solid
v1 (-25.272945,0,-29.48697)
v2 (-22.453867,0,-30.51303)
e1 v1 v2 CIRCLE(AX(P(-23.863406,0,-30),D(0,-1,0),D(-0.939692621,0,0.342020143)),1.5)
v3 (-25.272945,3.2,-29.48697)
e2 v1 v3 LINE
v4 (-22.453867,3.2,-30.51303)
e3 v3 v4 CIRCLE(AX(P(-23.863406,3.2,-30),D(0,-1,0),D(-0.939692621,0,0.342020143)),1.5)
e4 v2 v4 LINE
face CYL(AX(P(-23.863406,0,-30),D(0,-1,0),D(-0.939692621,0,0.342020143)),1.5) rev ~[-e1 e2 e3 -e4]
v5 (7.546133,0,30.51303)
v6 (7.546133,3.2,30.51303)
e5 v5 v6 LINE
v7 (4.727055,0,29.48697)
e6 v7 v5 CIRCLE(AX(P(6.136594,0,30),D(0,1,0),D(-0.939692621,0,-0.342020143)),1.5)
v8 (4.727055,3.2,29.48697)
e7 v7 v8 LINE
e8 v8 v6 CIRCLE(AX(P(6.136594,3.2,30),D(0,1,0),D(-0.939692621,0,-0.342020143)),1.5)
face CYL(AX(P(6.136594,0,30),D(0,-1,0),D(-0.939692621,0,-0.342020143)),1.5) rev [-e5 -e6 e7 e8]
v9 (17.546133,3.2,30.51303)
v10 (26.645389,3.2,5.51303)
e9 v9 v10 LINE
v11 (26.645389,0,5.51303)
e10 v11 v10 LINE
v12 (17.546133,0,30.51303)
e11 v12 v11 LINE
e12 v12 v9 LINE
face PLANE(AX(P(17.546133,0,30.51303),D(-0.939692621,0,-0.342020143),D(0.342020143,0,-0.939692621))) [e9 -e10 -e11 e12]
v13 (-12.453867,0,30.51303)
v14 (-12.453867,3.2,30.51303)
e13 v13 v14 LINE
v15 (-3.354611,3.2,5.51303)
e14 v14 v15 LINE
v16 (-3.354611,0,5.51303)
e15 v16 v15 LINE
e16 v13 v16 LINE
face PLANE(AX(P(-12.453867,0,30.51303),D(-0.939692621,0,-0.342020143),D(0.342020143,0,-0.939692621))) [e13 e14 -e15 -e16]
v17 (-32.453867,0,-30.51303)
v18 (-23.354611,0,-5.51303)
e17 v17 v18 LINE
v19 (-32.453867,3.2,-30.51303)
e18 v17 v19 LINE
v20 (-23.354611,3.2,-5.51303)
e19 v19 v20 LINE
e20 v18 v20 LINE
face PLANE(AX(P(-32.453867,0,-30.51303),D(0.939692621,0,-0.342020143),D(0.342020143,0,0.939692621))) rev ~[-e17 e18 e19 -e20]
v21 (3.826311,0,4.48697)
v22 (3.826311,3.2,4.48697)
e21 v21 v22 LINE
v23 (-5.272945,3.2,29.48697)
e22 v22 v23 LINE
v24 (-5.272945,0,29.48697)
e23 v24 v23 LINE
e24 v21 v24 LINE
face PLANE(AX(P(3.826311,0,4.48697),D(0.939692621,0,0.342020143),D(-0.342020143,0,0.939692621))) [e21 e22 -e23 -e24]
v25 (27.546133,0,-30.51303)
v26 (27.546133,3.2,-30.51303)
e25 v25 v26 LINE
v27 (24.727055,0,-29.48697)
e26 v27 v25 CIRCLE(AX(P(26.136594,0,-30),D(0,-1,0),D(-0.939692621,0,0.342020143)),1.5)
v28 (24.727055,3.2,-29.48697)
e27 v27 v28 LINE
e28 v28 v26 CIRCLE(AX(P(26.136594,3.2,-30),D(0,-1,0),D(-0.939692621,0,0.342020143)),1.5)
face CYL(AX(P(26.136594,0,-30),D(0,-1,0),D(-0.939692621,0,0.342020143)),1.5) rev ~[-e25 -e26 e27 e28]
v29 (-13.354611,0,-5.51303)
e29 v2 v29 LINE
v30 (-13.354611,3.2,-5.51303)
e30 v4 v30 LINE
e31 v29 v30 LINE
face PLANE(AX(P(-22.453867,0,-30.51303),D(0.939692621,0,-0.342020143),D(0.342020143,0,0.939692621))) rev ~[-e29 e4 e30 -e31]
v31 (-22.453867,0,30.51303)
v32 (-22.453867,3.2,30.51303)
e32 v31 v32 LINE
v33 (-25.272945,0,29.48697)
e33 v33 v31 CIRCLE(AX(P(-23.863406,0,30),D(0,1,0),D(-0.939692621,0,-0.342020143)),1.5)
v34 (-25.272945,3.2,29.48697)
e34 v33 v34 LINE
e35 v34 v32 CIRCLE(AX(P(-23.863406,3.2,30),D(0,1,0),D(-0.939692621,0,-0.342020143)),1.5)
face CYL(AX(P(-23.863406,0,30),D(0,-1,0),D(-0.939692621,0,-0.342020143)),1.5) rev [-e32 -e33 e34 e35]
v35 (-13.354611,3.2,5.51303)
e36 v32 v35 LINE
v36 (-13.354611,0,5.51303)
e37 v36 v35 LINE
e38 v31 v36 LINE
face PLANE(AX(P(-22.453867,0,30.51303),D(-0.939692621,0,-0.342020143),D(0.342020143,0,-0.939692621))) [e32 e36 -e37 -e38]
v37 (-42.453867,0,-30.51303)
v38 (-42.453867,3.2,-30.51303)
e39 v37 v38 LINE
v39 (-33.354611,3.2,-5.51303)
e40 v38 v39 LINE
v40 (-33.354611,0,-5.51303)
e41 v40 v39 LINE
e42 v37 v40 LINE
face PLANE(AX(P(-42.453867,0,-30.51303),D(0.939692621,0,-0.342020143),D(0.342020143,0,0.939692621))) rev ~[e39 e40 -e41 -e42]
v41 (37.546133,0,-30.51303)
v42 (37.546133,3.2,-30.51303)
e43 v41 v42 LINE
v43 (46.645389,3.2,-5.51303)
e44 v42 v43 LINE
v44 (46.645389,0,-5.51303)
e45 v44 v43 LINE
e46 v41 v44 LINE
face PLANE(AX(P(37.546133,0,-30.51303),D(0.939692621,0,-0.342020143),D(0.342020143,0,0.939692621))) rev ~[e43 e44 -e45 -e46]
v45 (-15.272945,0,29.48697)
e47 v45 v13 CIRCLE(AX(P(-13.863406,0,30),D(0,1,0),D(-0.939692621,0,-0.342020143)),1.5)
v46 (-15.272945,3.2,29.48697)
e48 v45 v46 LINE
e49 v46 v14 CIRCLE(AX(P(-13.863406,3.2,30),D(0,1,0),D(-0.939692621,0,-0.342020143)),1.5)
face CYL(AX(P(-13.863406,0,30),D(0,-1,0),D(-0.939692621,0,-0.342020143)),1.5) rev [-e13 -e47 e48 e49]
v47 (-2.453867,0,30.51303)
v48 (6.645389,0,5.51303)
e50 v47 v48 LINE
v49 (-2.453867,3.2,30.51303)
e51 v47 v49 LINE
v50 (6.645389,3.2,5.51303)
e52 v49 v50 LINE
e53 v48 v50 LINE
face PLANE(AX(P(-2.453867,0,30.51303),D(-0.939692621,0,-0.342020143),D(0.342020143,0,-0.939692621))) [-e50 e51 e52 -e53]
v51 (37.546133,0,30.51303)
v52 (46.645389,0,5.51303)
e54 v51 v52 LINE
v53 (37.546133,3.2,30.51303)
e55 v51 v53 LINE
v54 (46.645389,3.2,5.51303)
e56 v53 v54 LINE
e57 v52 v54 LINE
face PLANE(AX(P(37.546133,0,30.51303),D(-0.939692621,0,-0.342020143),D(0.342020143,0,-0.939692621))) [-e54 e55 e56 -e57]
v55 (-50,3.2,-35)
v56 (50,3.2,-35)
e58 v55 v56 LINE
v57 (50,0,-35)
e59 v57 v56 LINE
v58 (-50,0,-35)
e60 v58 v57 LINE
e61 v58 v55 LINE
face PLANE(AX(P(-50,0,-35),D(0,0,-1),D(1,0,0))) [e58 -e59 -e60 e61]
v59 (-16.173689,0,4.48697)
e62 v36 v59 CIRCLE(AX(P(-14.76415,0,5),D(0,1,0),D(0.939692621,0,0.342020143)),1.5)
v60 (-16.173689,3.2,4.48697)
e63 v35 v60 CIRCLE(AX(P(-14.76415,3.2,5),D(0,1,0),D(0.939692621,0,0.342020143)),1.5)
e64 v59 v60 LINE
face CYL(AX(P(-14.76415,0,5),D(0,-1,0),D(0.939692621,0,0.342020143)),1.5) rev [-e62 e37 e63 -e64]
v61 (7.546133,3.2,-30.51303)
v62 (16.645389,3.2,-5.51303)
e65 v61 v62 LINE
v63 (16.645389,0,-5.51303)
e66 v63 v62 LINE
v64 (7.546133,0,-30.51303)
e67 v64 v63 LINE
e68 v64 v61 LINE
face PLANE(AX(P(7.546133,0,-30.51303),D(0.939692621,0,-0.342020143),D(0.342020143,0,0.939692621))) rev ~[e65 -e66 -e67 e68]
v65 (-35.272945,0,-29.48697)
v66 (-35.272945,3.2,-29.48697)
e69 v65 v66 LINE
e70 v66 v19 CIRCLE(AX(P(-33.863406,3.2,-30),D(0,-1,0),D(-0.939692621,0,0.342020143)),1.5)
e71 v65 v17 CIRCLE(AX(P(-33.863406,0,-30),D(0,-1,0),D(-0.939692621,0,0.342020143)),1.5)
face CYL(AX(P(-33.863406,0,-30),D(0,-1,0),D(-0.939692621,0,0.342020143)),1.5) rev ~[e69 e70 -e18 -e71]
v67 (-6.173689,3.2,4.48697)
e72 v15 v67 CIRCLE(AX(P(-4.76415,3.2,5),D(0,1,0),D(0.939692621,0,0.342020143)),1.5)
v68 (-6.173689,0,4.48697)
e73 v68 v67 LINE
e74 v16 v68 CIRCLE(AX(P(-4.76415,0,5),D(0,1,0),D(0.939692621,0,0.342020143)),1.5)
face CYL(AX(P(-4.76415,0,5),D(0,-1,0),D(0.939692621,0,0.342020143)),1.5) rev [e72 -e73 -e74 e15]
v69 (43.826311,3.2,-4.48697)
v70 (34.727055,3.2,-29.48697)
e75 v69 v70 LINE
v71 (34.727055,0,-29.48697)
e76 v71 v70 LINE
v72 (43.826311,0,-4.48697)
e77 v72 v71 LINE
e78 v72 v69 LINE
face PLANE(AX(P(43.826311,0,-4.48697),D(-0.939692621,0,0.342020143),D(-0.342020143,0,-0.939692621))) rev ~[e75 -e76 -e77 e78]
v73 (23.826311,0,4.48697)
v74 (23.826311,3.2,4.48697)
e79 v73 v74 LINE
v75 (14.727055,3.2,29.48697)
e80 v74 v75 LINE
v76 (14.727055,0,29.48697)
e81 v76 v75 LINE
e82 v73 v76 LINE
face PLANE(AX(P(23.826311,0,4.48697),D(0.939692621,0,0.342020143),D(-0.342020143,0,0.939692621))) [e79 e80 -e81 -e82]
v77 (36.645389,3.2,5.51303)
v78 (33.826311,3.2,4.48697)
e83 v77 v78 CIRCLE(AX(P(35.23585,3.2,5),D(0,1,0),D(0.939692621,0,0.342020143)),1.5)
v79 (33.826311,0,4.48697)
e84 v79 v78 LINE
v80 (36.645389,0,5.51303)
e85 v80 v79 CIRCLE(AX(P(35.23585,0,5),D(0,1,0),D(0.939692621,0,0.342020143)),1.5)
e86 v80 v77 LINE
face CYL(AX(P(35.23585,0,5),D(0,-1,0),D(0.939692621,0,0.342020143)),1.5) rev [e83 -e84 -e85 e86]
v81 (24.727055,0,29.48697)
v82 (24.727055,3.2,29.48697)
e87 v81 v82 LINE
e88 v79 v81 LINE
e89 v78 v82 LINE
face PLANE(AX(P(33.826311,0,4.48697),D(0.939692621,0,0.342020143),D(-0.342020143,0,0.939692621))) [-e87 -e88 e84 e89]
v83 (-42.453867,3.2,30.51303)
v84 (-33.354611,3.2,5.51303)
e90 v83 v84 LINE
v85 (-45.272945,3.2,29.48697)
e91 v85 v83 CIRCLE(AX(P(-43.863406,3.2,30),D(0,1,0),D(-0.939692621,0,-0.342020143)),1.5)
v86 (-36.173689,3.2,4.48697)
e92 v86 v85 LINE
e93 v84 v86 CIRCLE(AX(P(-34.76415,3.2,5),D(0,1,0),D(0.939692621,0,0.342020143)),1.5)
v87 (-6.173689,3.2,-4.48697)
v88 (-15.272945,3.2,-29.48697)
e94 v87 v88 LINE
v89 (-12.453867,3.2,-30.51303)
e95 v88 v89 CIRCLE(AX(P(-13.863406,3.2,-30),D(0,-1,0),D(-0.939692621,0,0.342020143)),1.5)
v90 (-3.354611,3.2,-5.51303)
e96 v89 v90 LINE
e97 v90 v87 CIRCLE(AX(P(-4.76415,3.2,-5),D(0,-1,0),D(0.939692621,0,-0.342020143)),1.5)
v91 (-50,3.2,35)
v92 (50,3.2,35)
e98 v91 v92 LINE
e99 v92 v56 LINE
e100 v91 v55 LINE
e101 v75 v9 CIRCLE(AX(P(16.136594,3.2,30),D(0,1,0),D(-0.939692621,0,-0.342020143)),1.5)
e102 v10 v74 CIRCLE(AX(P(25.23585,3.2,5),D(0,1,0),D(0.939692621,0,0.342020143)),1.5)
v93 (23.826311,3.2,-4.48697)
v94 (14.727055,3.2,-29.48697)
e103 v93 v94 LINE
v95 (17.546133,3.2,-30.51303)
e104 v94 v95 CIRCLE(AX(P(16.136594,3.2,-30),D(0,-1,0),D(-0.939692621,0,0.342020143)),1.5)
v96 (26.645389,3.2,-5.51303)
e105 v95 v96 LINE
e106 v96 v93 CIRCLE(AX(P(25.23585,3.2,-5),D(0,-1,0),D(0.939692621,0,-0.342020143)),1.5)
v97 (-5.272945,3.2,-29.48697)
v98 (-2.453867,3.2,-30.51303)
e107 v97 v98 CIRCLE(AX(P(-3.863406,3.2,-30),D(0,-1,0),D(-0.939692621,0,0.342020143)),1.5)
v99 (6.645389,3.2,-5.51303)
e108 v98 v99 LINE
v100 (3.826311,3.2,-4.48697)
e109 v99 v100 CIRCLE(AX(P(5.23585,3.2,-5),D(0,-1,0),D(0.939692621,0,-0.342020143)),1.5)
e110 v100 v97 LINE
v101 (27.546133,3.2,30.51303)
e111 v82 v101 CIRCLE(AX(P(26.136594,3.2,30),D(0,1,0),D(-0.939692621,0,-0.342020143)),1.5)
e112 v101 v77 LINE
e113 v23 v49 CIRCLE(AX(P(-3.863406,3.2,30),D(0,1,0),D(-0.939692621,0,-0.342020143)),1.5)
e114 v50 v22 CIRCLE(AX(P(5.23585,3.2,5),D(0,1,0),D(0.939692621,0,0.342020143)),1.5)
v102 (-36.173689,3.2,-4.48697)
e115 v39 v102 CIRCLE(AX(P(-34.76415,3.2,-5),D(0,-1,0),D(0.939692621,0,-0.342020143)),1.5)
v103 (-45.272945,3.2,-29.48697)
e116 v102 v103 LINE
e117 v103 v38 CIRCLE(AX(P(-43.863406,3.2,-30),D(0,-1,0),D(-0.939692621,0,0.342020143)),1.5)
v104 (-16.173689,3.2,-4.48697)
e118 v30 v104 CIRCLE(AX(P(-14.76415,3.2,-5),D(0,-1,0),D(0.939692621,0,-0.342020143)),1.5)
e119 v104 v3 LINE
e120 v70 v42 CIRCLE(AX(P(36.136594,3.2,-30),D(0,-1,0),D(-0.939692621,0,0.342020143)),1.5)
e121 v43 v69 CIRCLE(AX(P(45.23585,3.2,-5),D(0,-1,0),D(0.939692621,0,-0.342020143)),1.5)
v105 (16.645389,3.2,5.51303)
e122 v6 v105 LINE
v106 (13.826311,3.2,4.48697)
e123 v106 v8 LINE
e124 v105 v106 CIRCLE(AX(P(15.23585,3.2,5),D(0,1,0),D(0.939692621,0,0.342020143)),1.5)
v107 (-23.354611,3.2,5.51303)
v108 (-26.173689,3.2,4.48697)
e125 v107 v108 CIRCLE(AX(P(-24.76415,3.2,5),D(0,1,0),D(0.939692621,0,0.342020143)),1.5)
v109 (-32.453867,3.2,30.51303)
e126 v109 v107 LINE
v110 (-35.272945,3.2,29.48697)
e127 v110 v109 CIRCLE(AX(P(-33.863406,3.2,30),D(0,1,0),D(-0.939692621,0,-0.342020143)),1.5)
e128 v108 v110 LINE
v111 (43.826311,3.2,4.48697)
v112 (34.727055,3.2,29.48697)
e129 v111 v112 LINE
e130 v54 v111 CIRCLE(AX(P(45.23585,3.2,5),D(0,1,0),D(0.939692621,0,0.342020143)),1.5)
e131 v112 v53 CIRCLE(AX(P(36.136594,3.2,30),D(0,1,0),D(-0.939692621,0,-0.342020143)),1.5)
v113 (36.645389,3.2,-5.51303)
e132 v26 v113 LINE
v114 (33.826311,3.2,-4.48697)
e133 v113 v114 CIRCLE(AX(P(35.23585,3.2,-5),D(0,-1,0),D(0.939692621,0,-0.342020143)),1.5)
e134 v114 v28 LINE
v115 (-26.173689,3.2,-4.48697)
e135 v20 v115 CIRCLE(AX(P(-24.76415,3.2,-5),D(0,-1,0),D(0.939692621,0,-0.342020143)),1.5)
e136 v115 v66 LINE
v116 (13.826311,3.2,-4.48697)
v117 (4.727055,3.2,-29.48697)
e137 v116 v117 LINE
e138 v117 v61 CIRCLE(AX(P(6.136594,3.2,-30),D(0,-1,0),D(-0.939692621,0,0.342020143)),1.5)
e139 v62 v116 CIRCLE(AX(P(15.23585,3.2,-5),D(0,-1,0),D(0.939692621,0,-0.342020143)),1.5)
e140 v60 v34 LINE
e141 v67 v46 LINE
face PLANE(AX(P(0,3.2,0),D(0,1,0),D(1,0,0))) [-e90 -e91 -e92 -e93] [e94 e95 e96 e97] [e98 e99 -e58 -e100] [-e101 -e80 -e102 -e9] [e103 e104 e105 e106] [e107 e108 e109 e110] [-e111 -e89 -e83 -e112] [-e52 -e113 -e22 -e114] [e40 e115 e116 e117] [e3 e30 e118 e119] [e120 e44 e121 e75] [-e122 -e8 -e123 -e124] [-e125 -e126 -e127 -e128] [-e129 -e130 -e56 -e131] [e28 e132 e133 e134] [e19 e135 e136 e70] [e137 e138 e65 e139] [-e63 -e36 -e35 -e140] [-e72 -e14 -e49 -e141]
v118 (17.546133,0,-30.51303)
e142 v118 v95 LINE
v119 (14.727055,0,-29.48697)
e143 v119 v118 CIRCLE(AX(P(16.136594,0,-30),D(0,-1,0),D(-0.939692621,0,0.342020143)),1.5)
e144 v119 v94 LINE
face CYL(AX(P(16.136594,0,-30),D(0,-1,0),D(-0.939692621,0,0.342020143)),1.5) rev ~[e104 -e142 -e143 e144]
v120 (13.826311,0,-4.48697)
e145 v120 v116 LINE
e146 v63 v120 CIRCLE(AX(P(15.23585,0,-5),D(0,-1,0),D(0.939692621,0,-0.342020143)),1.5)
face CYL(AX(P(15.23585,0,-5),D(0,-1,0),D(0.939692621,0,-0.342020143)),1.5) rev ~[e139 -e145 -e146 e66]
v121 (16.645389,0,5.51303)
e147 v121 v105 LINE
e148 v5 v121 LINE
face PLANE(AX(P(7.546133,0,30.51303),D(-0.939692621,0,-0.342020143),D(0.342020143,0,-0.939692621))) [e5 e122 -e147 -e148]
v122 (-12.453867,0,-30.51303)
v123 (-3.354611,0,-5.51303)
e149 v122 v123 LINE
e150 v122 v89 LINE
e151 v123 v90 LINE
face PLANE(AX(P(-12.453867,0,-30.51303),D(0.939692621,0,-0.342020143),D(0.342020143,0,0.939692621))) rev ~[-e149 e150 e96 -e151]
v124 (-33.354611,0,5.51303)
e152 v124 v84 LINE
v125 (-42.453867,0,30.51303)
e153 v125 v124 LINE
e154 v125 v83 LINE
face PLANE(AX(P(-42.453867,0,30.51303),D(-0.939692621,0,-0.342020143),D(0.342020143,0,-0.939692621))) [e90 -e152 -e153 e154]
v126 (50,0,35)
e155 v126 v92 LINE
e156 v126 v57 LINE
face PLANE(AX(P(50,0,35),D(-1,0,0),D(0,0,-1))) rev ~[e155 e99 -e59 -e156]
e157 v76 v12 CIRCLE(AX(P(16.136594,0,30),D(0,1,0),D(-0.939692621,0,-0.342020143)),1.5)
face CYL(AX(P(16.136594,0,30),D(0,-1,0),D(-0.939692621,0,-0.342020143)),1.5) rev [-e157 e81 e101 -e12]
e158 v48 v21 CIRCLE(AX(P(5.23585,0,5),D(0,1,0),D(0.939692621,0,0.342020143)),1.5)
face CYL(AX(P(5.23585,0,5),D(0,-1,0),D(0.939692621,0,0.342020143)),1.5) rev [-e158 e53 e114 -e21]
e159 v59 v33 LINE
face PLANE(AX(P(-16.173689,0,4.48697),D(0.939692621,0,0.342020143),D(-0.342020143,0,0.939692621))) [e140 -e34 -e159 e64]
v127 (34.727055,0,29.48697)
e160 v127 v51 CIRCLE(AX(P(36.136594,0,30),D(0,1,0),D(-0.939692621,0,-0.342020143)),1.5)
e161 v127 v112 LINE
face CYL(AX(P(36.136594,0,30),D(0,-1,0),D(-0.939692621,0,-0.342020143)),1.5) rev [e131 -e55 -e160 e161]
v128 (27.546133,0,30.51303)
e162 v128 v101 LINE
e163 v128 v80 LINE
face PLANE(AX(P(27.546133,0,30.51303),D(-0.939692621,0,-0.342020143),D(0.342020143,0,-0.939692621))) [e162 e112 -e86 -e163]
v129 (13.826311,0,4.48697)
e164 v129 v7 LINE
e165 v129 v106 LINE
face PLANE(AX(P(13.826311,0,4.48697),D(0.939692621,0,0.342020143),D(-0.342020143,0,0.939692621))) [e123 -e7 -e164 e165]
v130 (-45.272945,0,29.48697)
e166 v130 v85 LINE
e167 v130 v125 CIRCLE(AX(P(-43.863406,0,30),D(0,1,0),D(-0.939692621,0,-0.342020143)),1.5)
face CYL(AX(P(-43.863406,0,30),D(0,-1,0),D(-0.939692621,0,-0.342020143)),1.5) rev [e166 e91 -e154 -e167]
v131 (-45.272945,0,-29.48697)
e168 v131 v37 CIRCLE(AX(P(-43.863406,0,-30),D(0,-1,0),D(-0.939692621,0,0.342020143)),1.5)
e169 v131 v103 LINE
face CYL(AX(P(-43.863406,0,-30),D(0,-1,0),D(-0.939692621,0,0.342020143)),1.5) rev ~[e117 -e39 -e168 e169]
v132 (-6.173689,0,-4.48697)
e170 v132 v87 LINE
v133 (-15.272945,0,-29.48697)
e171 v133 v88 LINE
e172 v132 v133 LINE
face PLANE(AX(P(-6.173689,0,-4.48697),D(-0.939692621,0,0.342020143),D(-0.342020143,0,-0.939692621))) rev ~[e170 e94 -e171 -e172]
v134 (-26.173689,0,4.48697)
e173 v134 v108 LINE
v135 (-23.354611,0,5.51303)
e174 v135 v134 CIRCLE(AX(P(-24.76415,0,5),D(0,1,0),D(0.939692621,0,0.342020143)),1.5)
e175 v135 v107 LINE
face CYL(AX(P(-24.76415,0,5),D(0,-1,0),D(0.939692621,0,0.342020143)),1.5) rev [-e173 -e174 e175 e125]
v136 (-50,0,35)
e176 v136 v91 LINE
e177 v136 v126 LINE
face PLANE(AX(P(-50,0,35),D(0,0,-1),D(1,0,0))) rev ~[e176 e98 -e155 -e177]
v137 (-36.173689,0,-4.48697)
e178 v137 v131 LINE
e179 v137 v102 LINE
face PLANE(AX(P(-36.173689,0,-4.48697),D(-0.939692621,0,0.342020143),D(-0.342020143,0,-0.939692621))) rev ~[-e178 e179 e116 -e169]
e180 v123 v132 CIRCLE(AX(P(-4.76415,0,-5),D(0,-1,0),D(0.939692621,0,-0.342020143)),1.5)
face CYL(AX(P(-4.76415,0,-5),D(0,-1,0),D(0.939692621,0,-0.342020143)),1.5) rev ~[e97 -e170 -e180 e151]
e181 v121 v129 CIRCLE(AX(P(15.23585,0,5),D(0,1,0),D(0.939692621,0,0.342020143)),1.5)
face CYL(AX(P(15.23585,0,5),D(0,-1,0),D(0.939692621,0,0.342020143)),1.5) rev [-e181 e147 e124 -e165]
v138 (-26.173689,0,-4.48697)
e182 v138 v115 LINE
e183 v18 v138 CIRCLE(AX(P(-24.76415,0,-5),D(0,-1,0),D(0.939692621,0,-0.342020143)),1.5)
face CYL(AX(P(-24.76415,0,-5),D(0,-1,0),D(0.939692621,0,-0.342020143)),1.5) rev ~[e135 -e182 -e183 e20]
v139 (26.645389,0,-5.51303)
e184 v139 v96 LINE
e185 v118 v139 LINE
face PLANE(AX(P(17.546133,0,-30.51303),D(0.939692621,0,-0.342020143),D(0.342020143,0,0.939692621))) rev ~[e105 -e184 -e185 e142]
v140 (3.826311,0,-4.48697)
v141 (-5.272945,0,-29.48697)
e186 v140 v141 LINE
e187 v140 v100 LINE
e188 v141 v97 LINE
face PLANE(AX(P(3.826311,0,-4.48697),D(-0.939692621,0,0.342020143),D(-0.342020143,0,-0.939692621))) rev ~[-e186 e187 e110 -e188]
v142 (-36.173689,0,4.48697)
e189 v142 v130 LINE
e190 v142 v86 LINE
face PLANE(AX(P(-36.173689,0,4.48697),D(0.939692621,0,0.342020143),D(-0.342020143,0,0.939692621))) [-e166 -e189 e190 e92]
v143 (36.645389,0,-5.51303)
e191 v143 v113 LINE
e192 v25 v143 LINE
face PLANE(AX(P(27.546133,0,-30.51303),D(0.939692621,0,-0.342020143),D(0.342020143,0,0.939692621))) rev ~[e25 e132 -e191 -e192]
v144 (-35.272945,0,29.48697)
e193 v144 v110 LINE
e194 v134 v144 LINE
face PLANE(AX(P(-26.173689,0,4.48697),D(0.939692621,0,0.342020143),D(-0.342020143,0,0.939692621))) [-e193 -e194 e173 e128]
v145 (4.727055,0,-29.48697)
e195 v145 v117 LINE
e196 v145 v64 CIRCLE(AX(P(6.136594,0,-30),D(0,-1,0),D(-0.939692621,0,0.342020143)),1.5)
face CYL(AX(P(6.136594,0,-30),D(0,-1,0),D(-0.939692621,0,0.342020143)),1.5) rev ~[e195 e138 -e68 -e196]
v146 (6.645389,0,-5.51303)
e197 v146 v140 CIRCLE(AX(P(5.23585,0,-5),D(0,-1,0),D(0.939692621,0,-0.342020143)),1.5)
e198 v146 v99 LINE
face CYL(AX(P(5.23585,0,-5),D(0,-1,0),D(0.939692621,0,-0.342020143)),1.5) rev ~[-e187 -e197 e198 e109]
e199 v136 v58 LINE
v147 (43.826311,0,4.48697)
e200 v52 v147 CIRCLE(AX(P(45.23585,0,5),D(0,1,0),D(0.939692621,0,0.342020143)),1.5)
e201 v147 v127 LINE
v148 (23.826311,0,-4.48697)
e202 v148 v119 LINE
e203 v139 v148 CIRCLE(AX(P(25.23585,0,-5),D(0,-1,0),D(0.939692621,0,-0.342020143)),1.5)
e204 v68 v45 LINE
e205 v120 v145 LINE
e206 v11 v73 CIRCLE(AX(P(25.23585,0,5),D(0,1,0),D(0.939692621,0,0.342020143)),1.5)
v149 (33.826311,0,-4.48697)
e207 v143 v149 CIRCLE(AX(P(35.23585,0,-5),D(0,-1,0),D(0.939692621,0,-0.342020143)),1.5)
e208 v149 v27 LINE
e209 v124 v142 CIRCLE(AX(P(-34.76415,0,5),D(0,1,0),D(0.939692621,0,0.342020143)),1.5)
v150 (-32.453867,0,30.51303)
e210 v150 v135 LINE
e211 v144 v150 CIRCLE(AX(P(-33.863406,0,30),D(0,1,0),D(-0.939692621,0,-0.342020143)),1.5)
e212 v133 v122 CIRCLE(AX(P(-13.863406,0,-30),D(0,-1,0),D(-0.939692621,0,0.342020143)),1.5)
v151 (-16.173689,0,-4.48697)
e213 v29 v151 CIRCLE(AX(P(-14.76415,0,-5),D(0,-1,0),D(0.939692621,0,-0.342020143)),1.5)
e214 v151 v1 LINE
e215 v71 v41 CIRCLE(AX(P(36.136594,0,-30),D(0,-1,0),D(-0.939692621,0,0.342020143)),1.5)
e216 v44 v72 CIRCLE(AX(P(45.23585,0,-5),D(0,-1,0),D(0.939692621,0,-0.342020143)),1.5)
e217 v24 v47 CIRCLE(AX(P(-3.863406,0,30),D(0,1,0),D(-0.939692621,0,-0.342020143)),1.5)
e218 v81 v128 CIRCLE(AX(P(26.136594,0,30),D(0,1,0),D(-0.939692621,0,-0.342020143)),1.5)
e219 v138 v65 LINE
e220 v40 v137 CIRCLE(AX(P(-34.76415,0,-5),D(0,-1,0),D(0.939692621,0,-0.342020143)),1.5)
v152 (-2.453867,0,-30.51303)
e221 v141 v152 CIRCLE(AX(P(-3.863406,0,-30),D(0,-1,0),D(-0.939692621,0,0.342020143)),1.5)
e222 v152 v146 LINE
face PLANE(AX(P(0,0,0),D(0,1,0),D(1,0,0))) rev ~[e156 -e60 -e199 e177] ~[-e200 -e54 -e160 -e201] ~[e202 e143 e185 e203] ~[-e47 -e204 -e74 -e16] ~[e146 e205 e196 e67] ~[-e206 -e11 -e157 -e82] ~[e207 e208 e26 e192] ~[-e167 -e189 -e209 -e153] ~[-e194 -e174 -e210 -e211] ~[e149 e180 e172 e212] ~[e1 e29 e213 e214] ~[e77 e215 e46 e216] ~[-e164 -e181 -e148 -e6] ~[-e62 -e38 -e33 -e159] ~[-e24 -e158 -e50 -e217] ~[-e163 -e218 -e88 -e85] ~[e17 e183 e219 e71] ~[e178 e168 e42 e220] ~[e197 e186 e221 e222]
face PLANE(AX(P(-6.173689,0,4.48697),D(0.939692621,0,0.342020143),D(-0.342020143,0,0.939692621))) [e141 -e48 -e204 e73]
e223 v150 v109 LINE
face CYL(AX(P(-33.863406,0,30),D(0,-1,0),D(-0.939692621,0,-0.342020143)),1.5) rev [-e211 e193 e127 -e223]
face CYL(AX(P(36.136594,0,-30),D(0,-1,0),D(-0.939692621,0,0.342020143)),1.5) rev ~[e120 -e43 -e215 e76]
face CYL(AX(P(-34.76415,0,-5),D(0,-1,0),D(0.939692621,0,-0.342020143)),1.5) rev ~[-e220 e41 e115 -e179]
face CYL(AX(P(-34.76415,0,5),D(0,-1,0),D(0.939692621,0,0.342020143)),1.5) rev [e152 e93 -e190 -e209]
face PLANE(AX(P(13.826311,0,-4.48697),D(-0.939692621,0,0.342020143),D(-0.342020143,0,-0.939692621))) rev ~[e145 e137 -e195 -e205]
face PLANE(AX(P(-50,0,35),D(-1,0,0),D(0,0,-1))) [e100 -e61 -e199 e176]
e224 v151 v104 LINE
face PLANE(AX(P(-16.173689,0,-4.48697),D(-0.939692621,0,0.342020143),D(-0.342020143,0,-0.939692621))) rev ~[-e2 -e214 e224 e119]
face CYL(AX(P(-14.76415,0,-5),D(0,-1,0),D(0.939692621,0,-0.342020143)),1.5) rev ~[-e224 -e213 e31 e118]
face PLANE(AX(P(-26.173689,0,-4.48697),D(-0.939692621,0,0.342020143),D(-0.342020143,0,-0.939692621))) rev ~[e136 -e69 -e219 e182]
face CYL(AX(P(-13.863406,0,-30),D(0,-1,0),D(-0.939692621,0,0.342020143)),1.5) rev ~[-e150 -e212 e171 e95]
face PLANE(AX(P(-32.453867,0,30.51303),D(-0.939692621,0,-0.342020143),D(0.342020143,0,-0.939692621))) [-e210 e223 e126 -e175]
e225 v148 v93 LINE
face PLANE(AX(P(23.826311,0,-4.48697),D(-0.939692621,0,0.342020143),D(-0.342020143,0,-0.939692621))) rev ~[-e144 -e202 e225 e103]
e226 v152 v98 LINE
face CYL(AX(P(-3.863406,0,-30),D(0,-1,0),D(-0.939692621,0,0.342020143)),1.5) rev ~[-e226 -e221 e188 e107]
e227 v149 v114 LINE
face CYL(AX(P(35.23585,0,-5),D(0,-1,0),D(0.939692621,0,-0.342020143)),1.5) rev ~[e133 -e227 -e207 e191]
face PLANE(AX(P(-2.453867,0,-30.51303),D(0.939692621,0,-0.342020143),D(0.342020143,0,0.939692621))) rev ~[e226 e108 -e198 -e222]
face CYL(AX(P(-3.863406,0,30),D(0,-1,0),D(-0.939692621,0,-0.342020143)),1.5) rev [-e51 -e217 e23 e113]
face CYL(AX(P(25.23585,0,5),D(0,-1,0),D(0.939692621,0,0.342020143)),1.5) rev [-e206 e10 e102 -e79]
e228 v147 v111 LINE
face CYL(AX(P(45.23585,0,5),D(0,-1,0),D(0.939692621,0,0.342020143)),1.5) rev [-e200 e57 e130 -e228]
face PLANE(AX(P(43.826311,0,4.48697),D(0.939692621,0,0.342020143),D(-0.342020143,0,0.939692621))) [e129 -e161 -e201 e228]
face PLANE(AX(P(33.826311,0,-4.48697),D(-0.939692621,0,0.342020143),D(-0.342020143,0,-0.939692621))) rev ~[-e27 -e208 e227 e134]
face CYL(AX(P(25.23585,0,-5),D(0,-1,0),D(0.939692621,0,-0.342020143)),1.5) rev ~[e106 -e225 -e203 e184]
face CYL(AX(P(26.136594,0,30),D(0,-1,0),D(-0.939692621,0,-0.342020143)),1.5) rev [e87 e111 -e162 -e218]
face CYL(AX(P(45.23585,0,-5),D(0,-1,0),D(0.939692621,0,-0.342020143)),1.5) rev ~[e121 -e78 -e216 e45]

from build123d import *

# Parameters (mm, degrees)
SKETCH_1_W      = 100
SKETCH_1_H      = 70
EXTRUDE_1_DEPTH = 3.2


with BuildPart() as part:
    # Эскиз1 → Бобышка-Вытянуть1 (new body)
    with BuildSketch(Plane(origin=(0, 0, 0), x_dir=(1, 0, 0), z_dir=(0, 1, 0))):
        Rectangle(SKETCH_1_W, SKETCH_1_H)
        with BuildLine():
            Line((-42.453867058, 30.513030215), (-33.354611201, 5.513030215))
            ThreePointArc((-33.354611201, 5.513030215), (-34.251119917, 3.590461069), (-36.173689063, 4.486969785))
            Line((-36.173689063, 4.486969785), (-45.27294492, 29.486969785))
            ThreePointArc((-45.27294492, 29.486969785), (-44.376436204, 31.409538931), (-42.453867058, 30.513030215))
        make_face(mode=Mode.SUBTRACT)
        with BuildLine():
            Line((-32.453867058, 30.513030215), (-23.354611201, 5.513030215))
            ThreePointArc((-23.354611201, 5.513030215), (-24.251119917, 3.590461069), (-26.173689063, 4.486969785))
            Line((-26.173689063, 4.486969785), (-35.27294492, 29.486969785))
            ThreePointArc((-35.27294492, 29.486969785), (-34.376436204, 31.409538931), (-32.453867058, 30.513030215))
        make_face(mode=Mode.SUBTRACT)
        with BuildLine():
            Line((-22.453867058, 30.513030215), (-13.354611201, 5.513030215))
            ThreePointArc((-13.354611201, 5.513030215), (-14.251119917, 3.590461069), (-16.173689063, 4.486969785))
            Line((-16.173689063, 4.486969785), (-25.27294492, 29.486969785))
            ThreePointArc((-25.27294492, 29.486969785), (-24.376436204, 31.409538931), (-22.453867058, 30.513030215))
        make_face(mode=Mode.SUBTRACT)
        with BuildLine():
            Line((-12.453867058, 30.513030215), (-3.354611201, 5.513030215))
            ThreePointArc((-3.354611201, 5.513030215), (-4.251119917, 3.590461069), (-6.173689063, 4.486969785))
            Line((-6.173689063, 4.486969785), (-15.27294492, 29.486969785))
            ThreePointArc((-15.27294492, 29.486969785), (-14.376436204, 31.409538931), (-12.453867058, 30.513030215))
        make_face(mode=Mode.SUBTRACT)
        with BuildLine():
            Line((-2.453867058, 30.513030215), (6.645388799, 5.513030215))
            ThreePointArc((6.645388799, 5.513030215), (5.748880083, 3.590461069), (3.826310937, 4.486969785))
            Line((3.826310937, 4.486969785), (-5.27294492, 29.486969785))
            ThreePointArc((-5.27294492, 29.486969785), (-4.376436204, 31.409538931), (-2.453867058, 30.513030215))
        make_face(mode=Mode.SUBTRACT)
        with BuildLine():
            Line((7.546132942, 30.513030215), (16.645388799, 5.513030215))
            ThreePointArc((16.645388799, 5.513030215), (15.748880083, 3.590461069), (13.826310937, 4.486969785))
            Line((13.826310937, 4.486969785), (4.72705508, 29.486969785))
            ThreePointArc((4.72705508, 29.486969785), (5.623563796, 31.409538931), (7.546132942, 30.513030215))
        make_face(mode=Mode.SUBTRACT)
        with BuildLine():
            Line((17.546132942, 30.513030215), (26.645388799, 5.513030215))
            ThreePointArc((26.645388799, 5.513030215), (25.748880083, 3.590461069), (23.826310937, 4.486969785))
            Line((23.826310937, 4.486969785), (14.72705508, 29.486969785))
            ThreePointArc((14.72705508, 29.486969785), (15.623563796, 31.409538931), (17.546132942, 30.513030215))
        make_face(mode=Mode.SUBTRACT)
        with BuildLine():
            Line((27.546132942, 30.513030215), (36.645388799, 5.513030215))
            ThreePointArc((36.645388799, 5.513030215), (35.748880083, 3.590461069), (33.826310937, 4.486969785))
            Line((33.826310937, 4.486969785), (24.72705508, 29.486969785))
            ThreePointArc((24.72705508, 29.486969785), (25.623563796, 31.409538931), (27.546132942, 30.513030215))
        make_face(mode=Mode.SUBTRACT)
        with BuildLine():
            Line((37.546132942, 30.513030215), (46.645388799, 5.513030215))
            ThreePointArc((46.645388799, 5.513030215), (45.748880083, 3.590461069), (43.826310937, 4.486969785))
            Line((43.826310937, 4.486969785), (34.72705508, 29.486969785))
            ThreePointArc((34.72705508, 29.486969785), (35.623563796, 31.409538931), (37.546132942, 30.513030215))
        make_face(mode=Mode.SUBTRACT)
        with BuildLine():
            Line((-2.453867058, -30.513030215), (6.645388799, -5.513030215))
            ThreePointArc((6.645388799, -5.513030215), (5.748880083, -3.590461069), (3.826310937, -4.486969785))
            Line((3.826310937, -4.486969785), (-5.27294492, -29.486969785))
            ThreePointArc((-5.27294492, -29.486969785), (-4.376436204, -31.409538931), (-2.453867058, -30.513030215))
        make_face(mode=Mode.SUBTRACT)
        with BuildLine():
            Line((37.546132942, -30.513030215), (46.645388799, -5.513030215))
            ThreePointArc((46.645388799, -5.513030215), (45.748880083, -3.590461069), (43.826310937, -4.486969785))
            Line((43.826310937, -4.486969785), (34.72705508, -29.486969785))
            ThreePointArc((34.72705508, -29.486969785), (35.623563796, -31.409538931), (37.546132942, -30.513030215))
        make_face(mode=Mode.SUBTRACT)
        with BuildLine():
            Line((27.546132942, -30.513030215), (36.645388799, -5.513030215))
            ThreePointArc((36.645388799, -5.513030215), (35.748880083, -3.590461069), (33.826310937, -4.486969785))
            Line((33.826310937, -4.486969785), (24.72705508, -29.486969785))
            ThreePointArc((24.72705508, -29.486969785), (25.623563796, -31.409538931), (27.546132942, -30.513030215))
        make_face(mode=Mode.SUBTRACT)
        with BuildLine():
            Line((17.546132942, -30.513030215), (26.645388799, -5.513030215))
            ThreePointArc((26.645388799, -5.513030215), (25.748880083, -3.590461069), (23.826310937, -4.486969785))
            Line((23.826310937, -4.486969785), (14.72705508, -29.486969785))
            ThreePointArc((14.72705508, -29.486969785), (15.623563796, -31.409538931), (17.546132942, -30.513030215))
        make_face(mode=Mode.SUBTRACT)
        with BuildLine():
            Line((7.546132942, -30.513030215), (16.645388799, -5.513030215))
            ThreePointArc((16.645388799, -5.513030215), (15.748880083, -3.590461069), (13.826310937, -4.486969785))
            Line((13.826310937, -4.486969785), (4.72705508, -29.486969785))
            ThreePointArc((4.72705508, -29.486969785), (5.623563796, -31.409538931), (7.546132942, -30.513030215))
        make_face(mode=Mode.SUBTRACT)
        with BuildLine():
            Line((-12.453867058, -30.513030215), (-3.354611201, -5.513030215))
            ThreePointArc((-3.354611201, -5.513030215), (-4.251119917, -3.590461069), (-6.173689063, -4.486969785))
            Line((-6.173689063, -4.486969785), (-15.27294492, -29.486969785))
            ThreePointArc((-15.27294492, -29.486969785), (-14.376436204, -31.409538931), (-12.453867058, -30.513030215))
        make_face(mode=Mode.SUBTRACT)
        with BuildLine():
            Line((-22.453867058, -30.513030215), (-13.354611201, -5.513030215))
            ThreePointArc((-13.354611201, -5.513030215), (-14.251119917, -3.590461069), (-16.173689063, -4.486969785))
            Line((-16.173689063, -4.486969785), (-25.27294492, -29.486969785))
            ThreePointArc((-25.27294492, -29.486969785), (-24.376436204, -31.409538931), (-22.453867058, -30.513030215))
        make_face(mode=Mode.SUBTRACT)
        with BuildLine():
            Line((-32.453867058, -30.513030215), (-23.354611201, -5.513030215))
            ThreePointArc((-23.354611201, -5.513030215), (-24.251119917, -3.590461069), (-26.173689063, -4.486969785))
            Line((-26.173689063, -4.486969785), (-35.27294492, -29.486969785))
            ThreePointArc((-35.27294492, -29.486969785), (-34.376436204, -31.409538931), (-32.453867058, -30.513030215))
        make_face(mode=Mode.SUBTRACT)
        with BuildLine():
            Line((-42.453867058, -30.513030215), (-33.354611201, -5.513030215))
            ThreePointArc((-33.354611201, -5.513030215), (-34.251119917, -3.590461069), (-36.173689063, -4.486969785))
            Line((-36.173689063, -4.486969785), (-45.27294492, -29.486969785))
            ThreePointArc((-45.27294492, -29.486969785), (-44.376436204, -31.409538931), (-42.453867058, -30.513030215))
        make_face(mode=Mode.SUBTRACT)
    extrude(amount=EXTRUDE_1_DEPTH)


solid = part.part
